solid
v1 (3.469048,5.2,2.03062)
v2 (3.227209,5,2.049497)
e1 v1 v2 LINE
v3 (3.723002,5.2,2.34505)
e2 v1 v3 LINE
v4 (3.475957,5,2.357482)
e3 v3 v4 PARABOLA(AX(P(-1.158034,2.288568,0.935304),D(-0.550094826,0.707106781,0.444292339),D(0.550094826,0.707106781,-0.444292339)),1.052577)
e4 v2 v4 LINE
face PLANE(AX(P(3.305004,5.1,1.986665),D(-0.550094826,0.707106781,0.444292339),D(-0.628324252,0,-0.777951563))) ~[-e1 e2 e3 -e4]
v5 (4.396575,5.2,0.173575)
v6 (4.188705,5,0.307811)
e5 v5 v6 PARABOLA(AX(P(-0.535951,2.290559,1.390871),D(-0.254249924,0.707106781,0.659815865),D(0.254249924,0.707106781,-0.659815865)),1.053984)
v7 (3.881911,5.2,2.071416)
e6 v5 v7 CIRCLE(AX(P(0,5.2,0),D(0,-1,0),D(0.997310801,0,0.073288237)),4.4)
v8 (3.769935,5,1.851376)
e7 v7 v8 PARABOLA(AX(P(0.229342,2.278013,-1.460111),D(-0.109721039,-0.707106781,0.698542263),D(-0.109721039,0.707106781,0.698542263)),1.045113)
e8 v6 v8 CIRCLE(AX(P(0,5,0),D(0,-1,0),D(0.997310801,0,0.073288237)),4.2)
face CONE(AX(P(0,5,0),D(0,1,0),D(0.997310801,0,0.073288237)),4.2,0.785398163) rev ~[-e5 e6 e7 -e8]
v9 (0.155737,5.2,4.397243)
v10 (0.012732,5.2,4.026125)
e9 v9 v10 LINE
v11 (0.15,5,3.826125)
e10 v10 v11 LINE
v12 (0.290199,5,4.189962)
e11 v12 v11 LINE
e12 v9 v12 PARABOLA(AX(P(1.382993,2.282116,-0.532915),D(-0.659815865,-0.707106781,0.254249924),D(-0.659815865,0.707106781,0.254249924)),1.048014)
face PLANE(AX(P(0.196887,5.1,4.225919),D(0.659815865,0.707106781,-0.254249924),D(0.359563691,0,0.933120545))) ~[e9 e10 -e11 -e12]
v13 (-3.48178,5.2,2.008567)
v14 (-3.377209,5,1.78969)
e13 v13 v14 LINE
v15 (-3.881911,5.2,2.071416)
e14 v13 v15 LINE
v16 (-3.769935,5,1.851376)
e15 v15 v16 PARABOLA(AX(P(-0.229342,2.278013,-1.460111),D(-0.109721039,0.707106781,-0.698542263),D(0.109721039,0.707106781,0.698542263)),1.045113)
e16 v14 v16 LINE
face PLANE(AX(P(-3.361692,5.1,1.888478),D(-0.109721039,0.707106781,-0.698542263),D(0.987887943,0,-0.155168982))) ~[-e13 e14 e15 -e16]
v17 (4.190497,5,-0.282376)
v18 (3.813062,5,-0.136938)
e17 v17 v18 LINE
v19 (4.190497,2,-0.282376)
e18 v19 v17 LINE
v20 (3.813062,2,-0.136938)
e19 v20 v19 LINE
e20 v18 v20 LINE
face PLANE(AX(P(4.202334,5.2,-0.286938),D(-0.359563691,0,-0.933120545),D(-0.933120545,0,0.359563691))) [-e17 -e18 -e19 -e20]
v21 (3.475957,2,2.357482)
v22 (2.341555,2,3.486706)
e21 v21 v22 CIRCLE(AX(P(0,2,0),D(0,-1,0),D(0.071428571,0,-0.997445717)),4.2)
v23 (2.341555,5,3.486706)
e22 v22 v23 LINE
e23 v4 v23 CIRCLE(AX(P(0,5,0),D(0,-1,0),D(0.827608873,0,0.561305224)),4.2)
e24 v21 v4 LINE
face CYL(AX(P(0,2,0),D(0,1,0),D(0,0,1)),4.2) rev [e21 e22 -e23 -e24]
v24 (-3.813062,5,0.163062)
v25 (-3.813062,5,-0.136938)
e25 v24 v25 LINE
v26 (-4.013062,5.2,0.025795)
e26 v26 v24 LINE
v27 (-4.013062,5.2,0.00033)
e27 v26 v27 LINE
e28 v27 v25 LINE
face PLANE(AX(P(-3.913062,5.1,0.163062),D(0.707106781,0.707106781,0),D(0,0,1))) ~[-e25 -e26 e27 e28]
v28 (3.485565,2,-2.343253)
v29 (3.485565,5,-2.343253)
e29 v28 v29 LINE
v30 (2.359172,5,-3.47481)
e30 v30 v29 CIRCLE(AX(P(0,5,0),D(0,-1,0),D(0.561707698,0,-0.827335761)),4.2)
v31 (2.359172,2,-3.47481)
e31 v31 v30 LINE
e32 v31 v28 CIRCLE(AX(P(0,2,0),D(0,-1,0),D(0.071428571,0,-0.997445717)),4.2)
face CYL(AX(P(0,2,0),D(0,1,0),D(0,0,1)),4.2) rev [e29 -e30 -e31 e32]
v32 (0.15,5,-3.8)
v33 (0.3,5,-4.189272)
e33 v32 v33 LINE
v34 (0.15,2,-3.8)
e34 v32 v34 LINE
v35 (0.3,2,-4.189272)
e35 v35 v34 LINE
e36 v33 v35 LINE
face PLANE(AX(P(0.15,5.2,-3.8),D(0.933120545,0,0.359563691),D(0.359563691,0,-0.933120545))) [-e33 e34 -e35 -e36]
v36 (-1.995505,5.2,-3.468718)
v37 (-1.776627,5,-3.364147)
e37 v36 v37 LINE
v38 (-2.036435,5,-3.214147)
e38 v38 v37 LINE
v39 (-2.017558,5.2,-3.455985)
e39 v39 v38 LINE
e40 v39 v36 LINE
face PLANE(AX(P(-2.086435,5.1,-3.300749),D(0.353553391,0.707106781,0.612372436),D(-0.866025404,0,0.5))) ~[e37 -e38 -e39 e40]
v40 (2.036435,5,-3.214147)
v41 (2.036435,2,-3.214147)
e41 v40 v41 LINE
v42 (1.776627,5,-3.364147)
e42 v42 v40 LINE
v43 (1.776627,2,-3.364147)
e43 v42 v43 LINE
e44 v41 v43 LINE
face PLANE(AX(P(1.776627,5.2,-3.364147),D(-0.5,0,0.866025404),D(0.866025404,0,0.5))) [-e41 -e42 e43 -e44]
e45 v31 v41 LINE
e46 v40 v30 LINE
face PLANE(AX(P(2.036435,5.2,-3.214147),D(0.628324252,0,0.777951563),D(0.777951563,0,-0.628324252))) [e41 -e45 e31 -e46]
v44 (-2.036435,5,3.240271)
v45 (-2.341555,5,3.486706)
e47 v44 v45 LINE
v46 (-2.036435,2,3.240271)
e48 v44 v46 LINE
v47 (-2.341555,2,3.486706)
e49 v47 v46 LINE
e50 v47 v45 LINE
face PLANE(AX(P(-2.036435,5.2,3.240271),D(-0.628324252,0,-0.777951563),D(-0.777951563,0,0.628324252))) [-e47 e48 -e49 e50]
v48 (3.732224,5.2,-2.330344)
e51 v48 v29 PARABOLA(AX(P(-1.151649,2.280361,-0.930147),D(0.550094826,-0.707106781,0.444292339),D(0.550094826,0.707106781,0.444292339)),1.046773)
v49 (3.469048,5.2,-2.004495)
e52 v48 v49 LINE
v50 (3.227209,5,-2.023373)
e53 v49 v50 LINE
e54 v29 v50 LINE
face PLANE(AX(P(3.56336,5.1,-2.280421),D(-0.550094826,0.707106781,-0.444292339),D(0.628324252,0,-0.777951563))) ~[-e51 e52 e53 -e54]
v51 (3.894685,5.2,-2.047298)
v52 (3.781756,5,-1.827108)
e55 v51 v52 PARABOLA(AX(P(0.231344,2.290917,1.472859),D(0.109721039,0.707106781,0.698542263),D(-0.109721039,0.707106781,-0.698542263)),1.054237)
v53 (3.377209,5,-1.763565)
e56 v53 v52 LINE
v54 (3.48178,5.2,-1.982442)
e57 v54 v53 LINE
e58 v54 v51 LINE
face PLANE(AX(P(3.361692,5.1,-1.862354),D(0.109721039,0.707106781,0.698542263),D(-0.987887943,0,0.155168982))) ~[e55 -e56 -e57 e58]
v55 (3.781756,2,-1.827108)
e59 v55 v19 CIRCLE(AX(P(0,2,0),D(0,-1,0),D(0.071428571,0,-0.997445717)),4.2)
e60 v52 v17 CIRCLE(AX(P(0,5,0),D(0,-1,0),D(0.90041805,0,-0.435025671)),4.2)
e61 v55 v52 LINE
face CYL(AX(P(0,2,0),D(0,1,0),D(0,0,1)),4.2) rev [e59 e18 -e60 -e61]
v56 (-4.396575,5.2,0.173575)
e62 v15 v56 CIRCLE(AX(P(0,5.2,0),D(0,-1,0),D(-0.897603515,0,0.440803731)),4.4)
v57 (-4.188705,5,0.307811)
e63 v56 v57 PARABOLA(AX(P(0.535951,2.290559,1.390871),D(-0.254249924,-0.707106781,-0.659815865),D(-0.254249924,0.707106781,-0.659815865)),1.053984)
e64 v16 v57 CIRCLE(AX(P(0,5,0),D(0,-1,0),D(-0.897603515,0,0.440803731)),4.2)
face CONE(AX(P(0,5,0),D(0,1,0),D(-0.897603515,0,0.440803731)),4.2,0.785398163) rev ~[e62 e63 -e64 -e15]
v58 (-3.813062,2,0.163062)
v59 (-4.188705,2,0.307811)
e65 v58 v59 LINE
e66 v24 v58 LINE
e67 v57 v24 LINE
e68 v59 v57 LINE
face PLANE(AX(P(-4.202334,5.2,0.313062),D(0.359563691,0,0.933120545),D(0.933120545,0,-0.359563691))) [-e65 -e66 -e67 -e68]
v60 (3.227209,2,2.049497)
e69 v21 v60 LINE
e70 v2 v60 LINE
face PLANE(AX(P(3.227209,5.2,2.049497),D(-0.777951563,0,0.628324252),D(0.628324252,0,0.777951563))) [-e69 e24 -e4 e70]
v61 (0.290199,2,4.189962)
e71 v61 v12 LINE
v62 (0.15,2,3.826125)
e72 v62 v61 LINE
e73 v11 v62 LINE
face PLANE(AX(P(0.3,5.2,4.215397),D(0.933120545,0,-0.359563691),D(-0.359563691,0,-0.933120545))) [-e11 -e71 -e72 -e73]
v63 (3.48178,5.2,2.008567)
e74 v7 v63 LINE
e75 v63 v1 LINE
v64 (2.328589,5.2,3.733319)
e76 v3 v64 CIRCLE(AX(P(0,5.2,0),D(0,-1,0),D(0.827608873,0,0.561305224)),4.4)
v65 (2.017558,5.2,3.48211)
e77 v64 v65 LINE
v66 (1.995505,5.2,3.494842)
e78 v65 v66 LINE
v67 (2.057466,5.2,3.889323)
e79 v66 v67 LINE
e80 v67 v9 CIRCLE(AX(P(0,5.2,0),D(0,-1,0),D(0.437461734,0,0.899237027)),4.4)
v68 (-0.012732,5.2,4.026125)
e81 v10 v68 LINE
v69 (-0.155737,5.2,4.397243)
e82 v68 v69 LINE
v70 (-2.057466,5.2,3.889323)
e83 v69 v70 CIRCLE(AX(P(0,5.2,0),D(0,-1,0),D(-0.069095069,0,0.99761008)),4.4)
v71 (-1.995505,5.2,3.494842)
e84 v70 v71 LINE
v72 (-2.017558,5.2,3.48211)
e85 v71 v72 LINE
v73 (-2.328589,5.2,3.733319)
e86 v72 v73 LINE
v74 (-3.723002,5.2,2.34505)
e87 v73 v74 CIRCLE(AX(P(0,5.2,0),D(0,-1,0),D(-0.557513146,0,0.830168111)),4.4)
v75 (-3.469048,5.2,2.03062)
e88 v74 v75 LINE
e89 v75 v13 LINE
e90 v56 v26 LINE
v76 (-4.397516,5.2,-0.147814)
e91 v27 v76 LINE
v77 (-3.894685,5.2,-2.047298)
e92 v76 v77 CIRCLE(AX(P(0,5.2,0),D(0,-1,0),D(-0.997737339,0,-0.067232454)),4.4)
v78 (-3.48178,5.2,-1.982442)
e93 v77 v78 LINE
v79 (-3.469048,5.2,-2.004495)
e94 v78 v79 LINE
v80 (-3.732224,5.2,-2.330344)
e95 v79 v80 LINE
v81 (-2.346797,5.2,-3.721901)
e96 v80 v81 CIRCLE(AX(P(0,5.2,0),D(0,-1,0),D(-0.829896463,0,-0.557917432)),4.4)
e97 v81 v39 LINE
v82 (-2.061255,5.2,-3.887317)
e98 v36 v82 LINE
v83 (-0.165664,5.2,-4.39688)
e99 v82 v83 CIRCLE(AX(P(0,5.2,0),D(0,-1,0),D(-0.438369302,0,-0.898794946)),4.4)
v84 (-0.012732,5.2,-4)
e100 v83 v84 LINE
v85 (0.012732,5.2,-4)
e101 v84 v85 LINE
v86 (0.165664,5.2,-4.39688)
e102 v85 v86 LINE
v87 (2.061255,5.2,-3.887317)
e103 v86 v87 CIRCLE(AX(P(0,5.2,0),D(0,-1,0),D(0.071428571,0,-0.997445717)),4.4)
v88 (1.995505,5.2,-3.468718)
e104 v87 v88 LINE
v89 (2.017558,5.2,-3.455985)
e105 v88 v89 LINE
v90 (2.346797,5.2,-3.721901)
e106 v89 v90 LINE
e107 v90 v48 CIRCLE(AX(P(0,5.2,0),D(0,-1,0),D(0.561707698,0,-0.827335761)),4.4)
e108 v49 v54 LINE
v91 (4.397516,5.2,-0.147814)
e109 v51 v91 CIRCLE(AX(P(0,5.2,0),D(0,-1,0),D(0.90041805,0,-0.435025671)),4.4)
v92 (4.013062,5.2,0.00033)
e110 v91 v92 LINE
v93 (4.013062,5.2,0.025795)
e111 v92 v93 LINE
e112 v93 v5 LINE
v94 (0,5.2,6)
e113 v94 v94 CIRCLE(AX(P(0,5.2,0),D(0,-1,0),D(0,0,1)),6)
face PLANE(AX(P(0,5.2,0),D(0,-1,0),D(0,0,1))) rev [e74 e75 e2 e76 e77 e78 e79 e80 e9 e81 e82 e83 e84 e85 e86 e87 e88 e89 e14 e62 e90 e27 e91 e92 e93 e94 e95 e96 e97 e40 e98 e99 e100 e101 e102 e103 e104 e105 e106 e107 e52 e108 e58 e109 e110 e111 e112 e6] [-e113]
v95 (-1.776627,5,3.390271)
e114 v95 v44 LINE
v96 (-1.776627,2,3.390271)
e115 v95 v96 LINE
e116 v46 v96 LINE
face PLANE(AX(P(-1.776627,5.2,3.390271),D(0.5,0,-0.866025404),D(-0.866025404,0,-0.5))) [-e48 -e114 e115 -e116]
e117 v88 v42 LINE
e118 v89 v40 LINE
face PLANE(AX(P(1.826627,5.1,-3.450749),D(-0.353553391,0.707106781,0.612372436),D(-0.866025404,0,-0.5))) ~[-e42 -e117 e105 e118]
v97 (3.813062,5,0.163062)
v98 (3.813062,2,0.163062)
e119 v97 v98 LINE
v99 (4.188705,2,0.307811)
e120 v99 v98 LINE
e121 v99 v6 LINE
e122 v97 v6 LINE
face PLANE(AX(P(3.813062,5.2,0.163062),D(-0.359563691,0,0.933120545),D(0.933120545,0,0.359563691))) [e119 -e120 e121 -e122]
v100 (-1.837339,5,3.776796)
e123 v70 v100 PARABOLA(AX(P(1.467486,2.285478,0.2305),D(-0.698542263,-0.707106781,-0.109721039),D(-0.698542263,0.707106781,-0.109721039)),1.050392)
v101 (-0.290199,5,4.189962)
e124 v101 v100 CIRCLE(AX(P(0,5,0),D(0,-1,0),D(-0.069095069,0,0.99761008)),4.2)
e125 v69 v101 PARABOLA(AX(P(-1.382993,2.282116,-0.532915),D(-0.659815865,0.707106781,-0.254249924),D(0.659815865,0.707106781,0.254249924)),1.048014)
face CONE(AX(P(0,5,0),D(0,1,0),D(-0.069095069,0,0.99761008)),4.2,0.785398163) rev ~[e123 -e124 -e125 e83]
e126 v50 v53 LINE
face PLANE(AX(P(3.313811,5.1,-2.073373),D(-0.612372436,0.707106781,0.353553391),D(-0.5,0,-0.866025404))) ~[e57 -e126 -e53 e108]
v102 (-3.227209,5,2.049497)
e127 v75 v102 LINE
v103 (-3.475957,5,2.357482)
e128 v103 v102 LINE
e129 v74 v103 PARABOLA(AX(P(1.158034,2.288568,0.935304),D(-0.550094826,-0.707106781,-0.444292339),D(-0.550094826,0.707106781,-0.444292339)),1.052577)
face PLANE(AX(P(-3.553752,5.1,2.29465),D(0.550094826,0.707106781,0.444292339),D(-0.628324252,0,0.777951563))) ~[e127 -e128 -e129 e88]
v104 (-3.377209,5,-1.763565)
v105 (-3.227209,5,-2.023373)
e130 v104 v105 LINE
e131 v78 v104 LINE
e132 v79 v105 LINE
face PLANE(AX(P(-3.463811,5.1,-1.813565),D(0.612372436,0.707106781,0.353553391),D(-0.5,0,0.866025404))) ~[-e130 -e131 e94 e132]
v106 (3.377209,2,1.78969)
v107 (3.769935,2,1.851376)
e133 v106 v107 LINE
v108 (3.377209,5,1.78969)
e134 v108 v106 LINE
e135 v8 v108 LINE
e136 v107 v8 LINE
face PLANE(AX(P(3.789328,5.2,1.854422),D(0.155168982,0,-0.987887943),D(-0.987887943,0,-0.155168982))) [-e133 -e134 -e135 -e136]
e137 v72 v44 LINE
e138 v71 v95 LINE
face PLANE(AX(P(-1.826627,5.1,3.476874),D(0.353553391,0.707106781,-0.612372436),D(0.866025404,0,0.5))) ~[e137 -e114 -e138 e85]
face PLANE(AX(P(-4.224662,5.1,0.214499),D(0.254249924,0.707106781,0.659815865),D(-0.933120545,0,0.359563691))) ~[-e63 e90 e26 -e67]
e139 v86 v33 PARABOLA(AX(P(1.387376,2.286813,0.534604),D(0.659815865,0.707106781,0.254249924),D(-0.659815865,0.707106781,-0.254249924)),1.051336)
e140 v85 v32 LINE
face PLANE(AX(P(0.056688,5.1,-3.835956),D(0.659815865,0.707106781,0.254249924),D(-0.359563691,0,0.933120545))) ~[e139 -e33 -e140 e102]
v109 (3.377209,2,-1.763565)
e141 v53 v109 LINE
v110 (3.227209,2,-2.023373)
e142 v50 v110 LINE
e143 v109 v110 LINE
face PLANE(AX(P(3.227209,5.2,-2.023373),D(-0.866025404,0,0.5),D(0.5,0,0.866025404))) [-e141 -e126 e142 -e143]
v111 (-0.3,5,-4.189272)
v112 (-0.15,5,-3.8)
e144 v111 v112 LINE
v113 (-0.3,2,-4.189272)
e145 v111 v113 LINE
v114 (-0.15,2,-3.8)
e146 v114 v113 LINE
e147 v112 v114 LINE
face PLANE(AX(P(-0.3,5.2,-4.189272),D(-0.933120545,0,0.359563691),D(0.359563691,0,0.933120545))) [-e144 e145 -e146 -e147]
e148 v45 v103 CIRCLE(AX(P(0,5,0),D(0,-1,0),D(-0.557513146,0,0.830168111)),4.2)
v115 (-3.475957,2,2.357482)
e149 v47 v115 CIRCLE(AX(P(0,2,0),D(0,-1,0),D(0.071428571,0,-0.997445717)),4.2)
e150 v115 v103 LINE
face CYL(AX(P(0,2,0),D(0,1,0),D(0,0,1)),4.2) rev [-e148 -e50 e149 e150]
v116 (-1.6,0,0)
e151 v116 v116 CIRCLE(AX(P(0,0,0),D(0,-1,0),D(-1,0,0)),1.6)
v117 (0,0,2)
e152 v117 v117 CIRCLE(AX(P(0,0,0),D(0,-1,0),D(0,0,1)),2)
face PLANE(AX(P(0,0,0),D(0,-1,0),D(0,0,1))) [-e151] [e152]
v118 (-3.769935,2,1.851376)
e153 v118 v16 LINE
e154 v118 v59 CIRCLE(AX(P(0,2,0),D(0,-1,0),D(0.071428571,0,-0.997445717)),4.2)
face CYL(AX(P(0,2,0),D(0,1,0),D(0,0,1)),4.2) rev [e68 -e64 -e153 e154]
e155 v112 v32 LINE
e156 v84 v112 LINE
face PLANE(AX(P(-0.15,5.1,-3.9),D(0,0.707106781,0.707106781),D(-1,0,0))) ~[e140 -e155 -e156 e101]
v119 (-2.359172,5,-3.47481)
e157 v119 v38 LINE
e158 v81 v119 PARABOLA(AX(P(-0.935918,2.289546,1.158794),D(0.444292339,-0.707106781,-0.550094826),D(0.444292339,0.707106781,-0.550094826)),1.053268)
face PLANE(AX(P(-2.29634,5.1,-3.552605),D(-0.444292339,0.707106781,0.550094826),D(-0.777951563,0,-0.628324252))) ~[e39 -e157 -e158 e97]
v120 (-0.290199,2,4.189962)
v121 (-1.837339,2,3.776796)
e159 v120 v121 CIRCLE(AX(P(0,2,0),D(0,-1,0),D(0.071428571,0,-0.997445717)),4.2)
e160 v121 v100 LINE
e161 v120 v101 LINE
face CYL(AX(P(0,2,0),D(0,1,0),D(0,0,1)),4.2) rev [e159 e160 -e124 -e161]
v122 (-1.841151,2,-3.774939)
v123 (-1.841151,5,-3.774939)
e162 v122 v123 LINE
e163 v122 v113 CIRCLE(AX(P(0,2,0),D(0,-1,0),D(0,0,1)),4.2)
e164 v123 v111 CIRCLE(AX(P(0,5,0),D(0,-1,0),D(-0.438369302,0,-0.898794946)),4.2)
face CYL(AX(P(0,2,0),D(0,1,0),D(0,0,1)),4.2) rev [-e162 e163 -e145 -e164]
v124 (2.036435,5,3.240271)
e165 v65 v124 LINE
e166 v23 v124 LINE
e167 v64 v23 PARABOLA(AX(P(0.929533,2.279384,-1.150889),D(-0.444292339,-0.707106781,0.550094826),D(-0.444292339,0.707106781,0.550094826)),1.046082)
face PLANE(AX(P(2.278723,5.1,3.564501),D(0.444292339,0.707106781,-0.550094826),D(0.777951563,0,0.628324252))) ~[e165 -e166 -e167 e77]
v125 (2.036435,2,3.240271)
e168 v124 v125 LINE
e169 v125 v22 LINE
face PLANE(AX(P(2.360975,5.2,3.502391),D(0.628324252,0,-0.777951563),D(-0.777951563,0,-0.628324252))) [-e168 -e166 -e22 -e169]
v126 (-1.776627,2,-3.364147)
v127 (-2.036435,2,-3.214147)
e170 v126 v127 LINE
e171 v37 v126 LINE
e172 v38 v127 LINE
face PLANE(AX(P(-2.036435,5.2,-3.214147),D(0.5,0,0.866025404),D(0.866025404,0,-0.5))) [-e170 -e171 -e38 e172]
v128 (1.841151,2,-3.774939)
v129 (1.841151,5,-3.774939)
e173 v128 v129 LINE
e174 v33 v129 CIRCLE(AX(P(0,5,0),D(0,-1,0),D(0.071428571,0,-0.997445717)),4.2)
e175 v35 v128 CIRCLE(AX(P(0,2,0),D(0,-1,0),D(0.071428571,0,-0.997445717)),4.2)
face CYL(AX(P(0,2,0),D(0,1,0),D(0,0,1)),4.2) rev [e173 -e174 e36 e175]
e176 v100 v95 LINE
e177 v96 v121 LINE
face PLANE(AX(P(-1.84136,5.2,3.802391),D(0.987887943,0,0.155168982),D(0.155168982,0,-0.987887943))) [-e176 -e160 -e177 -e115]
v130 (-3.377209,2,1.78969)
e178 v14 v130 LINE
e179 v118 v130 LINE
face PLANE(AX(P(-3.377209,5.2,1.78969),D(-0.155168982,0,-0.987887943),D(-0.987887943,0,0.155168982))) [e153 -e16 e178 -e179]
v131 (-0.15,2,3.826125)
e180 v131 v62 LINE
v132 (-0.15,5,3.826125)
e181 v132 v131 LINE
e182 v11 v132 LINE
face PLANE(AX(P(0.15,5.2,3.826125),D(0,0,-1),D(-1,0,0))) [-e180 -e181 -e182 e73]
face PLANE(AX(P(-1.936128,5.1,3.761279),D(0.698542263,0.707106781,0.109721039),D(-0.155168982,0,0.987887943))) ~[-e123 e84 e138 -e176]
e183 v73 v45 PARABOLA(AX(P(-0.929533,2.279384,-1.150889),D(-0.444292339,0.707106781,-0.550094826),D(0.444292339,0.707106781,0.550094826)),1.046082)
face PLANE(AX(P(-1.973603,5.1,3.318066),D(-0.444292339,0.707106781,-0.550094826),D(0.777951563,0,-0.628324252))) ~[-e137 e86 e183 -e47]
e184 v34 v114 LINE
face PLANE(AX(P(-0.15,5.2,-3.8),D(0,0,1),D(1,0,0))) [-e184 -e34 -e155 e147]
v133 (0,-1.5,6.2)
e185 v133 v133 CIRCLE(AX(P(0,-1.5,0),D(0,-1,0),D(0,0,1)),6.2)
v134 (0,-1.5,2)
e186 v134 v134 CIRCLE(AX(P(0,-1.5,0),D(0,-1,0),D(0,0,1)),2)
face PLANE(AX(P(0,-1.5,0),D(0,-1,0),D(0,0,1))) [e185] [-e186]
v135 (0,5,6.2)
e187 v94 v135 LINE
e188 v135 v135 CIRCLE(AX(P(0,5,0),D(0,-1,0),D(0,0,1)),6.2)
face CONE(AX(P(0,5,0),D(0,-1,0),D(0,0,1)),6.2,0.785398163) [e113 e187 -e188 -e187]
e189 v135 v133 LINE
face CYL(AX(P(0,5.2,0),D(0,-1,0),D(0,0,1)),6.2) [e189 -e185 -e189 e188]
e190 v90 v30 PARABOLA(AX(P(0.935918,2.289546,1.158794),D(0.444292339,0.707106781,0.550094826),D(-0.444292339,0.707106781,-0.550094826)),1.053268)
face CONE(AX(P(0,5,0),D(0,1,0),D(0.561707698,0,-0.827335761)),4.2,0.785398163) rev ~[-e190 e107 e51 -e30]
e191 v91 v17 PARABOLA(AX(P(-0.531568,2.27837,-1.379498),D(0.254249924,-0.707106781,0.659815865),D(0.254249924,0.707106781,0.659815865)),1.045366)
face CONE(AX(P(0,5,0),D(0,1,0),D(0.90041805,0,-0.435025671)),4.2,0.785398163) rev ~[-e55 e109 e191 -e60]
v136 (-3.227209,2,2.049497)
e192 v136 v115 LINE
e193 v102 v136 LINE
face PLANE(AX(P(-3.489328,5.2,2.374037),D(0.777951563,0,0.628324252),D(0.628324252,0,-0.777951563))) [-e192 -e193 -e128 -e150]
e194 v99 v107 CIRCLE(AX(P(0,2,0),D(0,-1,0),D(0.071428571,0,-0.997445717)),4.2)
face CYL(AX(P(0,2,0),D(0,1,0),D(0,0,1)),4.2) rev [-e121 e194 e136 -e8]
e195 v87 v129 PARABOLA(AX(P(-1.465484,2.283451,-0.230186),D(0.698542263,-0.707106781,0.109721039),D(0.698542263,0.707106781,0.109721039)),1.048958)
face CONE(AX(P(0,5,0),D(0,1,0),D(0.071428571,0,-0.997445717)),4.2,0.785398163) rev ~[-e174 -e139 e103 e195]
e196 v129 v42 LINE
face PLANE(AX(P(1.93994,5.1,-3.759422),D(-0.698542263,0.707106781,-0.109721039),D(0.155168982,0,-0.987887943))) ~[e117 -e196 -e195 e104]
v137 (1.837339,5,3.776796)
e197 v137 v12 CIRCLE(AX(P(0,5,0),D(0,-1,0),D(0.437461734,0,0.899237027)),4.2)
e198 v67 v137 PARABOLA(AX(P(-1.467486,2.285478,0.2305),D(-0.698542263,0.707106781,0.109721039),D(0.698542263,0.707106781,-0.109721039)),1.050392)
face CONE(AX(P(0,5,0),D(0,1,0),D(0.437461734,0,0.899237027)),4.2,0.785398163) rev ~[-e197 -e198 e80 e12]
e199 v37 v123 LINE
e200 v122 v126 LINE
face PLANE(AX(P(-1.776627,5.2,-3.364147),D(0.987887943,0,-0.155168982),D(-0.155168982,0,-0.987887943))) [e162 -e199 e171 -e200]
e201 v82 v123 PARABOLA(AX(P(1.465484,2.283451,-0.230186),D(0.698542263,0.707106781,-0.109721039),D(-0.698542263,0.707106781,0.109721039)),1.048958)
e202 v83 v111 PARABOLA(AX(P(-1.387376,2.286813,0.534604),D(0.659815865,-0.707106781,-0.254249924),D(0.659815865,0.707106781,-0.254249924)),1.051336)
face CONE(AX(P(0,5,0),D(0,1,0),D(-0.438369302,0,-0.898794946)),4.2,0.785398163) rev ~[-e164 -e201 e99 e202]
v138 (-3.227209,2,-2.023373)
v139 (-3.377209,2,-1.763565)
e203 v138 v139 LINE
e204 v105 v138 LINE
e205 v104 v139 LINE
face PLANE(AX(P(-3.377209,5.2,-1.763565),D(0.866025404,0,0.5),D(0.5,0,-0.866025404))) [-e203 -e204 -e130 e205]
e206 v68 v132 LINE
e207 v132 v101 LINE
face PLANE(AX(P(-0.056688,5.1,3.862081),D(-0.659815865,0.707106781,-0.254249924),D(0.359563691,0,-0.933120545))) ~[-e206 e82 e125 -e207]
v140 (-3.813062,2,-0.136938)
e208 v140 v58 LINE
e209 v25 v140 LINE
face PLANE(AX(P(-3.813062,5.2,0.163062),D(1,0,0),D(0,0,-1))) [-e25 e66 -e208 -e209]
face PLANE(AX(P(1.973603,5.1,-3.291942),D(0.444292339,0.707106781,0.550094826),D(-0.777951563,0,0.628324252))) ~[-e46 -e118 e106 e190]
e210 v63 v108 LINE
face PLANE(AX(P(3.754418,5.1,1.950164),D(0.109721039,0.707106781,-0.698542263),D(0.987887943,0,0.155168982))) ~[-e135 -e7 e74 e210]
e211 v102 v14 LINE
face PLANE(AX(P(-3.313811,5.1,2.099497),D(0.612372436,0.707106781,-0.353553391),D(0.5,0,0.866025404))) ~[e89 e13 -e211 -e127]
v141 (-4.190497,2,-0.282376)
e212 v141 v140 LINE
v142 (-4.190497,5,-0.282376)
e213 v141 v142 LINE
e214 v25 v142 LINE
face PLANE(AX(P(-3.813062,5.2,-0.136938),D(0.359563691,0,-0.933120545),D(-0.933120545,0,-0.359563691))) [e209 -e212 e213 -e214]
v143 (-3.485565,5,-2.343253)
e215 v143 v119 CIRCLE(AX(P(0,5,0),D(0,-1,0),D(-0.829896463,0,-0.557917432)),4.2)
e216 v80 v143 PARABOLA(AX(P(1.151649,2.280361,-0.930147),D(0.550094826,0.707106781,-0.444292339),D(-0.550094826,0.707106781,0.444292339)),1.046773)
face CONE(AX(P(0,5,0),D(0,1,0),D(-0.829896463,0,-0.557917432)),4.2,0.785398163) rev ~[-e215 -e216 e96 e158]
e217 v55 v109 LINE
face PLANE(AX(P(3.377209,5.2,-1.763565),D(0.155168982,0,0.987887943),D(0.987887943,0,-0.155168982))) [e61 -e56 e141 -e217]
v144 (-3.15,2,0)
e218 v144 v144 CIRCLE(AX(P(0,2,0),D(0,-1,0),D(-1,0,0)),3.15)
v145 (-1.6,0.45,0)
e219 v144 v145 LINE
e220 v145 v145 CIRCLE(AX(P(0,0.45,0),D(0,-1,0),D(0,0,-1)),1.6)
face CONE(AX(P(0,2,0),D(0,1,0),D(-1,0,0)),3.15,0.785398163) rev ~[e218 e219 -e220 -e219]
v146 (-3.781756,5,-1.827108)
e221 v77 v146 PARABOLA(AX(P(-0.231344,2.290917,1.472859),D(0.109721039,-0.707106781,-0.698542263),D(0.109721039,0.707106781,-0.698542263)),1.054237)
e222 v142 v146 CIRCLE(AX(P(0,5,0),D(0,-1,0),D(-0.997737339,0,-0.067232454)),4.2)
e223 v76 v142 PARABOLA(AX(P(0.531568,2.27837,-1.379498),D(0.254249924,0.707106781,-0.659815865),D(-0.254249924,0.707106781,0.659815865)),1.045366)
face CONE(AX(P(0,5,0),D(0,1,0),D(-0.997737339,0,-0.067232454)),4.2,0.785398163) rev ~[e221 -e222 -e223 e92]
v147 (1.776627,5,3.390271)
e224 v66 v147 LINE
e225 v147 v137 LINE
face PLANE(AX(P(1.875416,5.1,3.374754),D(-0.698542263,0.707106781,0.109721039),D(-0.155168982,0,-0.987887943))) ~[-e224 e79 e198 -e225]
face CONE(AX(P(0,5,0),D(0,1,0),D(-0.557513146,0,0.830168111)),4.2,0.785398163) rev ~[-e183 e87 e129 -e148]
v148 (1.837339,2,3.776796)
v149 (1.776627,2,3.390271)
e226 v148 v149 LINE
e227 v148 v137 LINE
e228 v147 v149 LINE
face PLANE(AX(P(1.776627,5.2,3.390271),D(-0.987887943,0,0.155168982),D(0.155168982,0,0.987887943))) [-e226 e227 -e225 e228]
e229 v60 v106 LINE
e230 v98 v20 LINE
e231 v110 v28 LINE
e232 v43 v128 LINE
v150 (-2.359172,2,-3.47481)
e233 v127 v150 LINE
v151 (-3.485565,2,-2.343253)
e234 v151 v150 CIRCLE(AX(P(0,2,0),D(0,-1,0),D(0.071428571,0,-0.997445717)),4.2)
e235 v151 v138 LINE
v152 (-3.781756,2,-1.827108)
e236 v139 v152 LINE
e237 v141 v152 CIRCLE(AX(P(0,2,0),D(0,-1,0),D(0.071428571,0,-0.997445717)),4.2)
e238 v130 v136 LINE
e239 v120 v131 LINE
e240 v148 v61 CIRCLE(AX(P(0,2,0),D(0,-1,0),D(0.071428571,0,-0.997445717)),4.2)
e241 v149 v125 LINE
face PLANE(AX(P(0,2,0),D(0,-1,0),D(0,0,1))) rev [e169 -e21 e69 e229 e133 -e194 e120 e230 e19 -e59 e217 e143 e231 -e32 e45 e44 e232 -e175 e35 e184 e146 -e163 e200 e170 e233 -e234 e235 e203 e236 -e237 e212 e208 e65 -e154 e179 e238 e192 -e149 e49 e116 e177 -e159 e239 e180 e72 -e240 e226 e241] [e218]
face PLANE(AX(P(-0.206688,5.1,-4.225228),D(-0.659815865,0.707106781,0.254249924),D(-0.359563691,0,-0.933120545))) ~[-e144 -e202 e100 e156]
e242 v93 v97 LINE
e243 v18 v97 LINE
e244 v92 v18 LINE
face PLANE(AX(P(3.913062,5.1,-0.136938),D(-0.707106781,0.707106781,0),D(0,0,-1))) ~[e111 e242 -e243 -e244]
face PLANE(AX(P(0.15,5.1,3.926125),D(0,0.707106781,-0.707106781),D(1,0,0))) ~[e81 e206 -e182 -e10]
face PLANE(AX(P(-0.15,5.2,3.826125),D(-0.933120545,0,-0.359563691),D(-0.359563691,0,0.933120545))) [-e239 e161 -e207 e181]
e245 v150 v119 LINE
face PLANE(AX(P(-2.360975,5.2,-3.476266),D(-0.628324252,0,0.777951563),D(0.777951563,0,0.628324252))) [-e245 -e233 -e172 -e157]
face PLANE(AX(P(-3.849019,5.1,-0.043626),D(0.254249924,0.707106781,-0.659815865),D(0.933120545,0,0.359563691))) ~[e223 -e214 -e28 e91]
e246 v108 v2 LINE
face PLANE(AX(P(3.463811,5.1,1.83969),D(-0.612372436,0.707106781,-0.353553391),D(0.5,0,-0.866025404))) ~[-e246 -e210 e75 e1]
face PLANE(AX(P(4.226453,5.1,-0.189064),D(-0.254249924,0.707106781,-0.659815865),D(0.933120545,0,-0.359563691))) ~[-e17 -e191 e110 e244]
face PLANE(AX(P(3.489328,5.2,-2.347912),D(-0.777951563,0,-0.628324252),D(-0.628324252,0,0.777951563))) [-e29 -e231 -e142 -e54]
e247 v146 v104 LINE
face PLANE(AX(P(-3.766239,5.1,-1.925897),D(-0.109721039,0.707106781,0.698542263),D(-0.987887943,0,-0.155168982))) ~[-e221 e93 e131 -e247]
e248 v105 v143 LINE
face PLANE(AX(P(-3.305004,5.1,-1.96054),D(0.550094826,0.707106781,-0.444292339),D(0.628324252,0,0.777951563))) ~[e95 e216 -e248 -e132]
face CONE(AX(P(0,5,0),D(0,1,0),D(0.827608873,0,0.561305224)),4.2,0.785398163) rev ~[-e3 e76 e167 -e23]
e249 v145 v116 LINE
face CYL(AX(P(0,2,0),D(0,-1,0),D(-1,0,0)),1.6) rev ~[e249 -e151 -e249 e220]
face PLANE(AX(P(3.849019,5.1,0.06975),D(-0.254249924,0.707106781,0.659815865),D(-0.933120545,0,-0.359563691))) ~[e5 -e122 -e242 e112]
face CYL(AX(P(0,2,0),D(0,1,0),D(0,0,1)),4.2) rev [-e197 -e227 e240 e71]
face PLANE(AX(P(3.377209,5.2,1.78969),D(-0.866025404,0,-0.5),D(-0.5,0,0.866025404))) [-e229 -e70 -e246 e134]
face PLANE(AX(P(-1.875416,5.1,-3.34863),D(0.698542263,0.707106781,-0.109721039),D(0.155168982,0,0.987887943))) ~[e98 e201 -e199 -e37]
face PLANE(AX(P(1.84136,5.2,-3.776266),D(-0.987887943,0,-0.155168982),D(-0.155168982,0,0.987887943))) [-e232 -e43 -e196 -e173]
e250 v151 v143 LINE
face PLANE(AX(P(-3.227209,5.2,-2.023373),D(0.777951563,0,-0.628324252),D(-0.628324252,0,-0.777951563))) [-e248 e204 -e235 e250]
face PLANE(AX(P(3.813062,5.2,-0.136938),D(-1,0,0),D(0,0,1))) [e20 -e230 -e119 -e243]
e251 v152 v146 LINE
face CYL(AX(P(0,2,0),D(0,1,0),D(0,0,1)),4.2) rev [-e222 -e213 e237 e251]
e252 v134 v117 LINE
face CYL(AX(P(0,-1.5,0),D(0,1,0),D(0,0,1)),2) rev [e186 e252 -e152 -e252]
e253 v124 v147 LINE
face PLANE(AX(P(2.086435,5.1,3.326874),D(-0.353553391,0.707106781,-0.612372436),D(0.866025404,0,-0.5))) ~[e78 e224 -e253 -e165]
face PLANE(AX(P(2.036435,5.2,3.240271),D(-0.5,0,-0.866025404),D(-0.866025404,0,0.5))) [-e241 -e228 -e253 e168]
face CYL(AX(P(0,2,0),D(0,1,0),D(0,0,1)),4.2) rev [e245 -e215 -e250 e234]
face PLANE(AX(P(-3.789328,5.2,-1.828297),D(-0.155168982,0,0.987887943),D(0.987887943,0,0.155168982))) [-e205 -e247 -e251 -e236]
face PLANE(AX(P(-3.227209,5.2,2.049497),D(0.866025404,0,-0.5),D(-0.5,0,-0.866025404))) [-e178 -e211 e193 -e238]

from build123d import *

# Parameters (mm, degrees)
EXTRUDE_1_REACH              = 13.035
PATTERN_CIRCULAR_1_COUNT     = 12
CHAMFER_1_SIZE               = 0.2
HOLE_WIZARD_M3_1_D           = 3.2
HOLE_WIZARD_M3_1_DEPTH       = 10
HOLE_WIZARD_M3_1_CSINK_D     = 6.3
HOLE_WIZARD_M3_1_CSINK_ANGLE = 90
HOLE_WIZARD_M3_1_TIP         = 0.96137699


with BuildPart() as part:
    # 草图1 → 旋转1 (revolve)
    with BuildSketch(Plane.XY, mode=Mode.PRIVATE) as revolve_1_sk:
        Polygon((0, 2), (4.2, 2), (4.2, 5.2), (6.2, 5.2), (6.2, -1.5), (2, -1.5), (2, 0), (0, 0), align=None)
    revolve(revolve_1_sk.sketch.rotate(Axis((0, 0, 0), (0, -1, 0)), 90), axis=Axis((0, 0, 0), (0, -1, 0)))

    # 草图6 → 凸台-拉伸1 (add, up to next)
    with BuildSketch(Plane(origin=(0, 5.2, 0), x_dir=(1, 0, 0), z_dir=(0, 1, 0)), mode=Mode.PRIVATE) as extrude_1_sk1:
        with BuildLine():
            Line((-0.3, 4.189272013), (-0.15, 3.8))
            Line((-0.15, 3.8), (0.15, 3.8))
            Line((0.15, 3.8), (0.3, 4.189272013))
            ThreePointArc((0.3, 4.189272013), (0, 4.2), (-0.3, 4.189272013))
        make_face()
    extrude_1_tool1 = extrude(extrude_1_sk1.sketch, amount=-EXTRUDE_1_REACH, mode=Mode.PRIVATE) - part.part
    extrude_1 = extrude_1_tool1.solids().sort_by_distance((0, 5.2, -4.020503))[0]
    add(extrude_1)

    # 阵列(圆周)1: 凸台-拉伸1 ×12 about axis
    pattern_circular_1_axis = Axis((0, 0, 0.0130623), (0, 1, 0))
    for i in range(1, PATTERN_CIRCULAR_1_COUNT):
        add(extrude_1.rotate(pattern_circular_1_axis, i * 360 / PATTERN_CIRCULAR_1_COUNT))

    # 倒角1
    chamfer_1_edges = [part.edges().sort_by_distance(p)[0] for p in [
        (-0.220099646, 5.2, 4.008043467),
        (0.220099646, 5.2, 4.008043467),
        (0, 5.2, 3.8261246),
        (2.963047356, 5.2, 2.976634066),
        (1.806983311, 5.2, 3.583533316),
        (2.188995086, 5.2, 3.363488592),
        (1.90653115, 5.2, 3.315271118),
        (4.053472149, 5.2, 1.099710659),
        (3.351583041, 5.2, 2.2034896),
        (3.573571791, 5.2, 1.820532654),
        (3.302208818, 5.2, 1.91959345),
        (4.060265001, 5.2, -1.0743594),
        (4.000883833, 5.2, 0.235436447),
        (4.001779561, 5.2, -0.209657003),
        (3.8130623, 5.2, 0.0130623),
        (2.976633055, 5.2, -2.963048372),
        (3.579482315, 5.2, -1.795336429),
        (3.356386981, 5.2, -2.183312937),
        (3.302208818, 5.2, -1.89346885),
        (1.090435686, 5.2, -4.055977073),
        (2.197803646, 5.2, -3.344478358),
        (1.808889205, 5.2, -3.569542645),
        (1.90653115, 5.2, -3.289146518),
        (-1.090435686, 5.2, -4.055977073),
        (-0.225, 5.2, -3.994636007),
        (0, 5.2, -3.8),
        (0.225, 5.2, -3.994636007),
        (-2.976633055, 5.2, -2.963048372),
        (-1.808889205, 5.2, -3.569542645),
        (-2.197803646, 5.2, -3.344478358),
        (-1.90653115, 5.2, -3.289146518),
        (-4.060265001, 5.2, -1.0743594),
        (-3.356386981, 5.2, -2.183312937),
        (-3.579482315, 5.2, -1.795336429),
        (-3.302208818, 5.2, -1.89346885),
        (-4.053472149, 5.2, 1.099710659),
        (-4.001779561, 5.2, -0.209657003),
        (-4.000883833, 5.2, 0.235436447),
        (-3.8130623, 5.2, 0.0130623),
        (-2.963047356, 5.2, 2.976634066),
        (-3.573571791, 5.2, 1.820532654),
        (-3.351583041, 5.2, 2.2034896),
        (-3.302208818, 5.2, 1.91959345),
        (0, 5.2, -6.2),
        (-1.083642839, 5.2, 4.05779721),
        (-2.188995086, 5.2, 3.363488592),
        (-1.806983311, 5.2, 3.583533316),
        (-1.90653115, 5.2, 3.315271118),
        (1.083642839, 5.2, 4.05779721),
    ]]
    chamfer(chamfer_1_edges, length=CHAMFER_1_SIZE)

    # M3 平头机械螺钉的锥形沉头孔1
    with Locations(Plane(origin=(0, 2, 0), x_dir=(1, 0, 0), z_dir=(0, 1, 0))):
        with Locations((0, 0)):
            CounterSinkHole(HOLE_WIZARD_M3_1_D / 2, HOLE_WIZARD_M3_1_CSINK_D / 2, depth=HOLE_WIZARD_M3_1_DEPTH, counter_sink_angle=HOLE_WIZARD_M3_1_CSINK_ANGLE)
            with Locations((0, 0, -(HOLE_WIZARD_M3_1_DEPTH + HOLE_WIZARD_M3_1_TIP / 2))):  # 118° drill point
                Cone(0, HOLE_WIZARD_M3_1_D / 2, HOLE_WIZARD_M3_1_TIP, mode=Mode.SUBTRACT)


solid = part.part
